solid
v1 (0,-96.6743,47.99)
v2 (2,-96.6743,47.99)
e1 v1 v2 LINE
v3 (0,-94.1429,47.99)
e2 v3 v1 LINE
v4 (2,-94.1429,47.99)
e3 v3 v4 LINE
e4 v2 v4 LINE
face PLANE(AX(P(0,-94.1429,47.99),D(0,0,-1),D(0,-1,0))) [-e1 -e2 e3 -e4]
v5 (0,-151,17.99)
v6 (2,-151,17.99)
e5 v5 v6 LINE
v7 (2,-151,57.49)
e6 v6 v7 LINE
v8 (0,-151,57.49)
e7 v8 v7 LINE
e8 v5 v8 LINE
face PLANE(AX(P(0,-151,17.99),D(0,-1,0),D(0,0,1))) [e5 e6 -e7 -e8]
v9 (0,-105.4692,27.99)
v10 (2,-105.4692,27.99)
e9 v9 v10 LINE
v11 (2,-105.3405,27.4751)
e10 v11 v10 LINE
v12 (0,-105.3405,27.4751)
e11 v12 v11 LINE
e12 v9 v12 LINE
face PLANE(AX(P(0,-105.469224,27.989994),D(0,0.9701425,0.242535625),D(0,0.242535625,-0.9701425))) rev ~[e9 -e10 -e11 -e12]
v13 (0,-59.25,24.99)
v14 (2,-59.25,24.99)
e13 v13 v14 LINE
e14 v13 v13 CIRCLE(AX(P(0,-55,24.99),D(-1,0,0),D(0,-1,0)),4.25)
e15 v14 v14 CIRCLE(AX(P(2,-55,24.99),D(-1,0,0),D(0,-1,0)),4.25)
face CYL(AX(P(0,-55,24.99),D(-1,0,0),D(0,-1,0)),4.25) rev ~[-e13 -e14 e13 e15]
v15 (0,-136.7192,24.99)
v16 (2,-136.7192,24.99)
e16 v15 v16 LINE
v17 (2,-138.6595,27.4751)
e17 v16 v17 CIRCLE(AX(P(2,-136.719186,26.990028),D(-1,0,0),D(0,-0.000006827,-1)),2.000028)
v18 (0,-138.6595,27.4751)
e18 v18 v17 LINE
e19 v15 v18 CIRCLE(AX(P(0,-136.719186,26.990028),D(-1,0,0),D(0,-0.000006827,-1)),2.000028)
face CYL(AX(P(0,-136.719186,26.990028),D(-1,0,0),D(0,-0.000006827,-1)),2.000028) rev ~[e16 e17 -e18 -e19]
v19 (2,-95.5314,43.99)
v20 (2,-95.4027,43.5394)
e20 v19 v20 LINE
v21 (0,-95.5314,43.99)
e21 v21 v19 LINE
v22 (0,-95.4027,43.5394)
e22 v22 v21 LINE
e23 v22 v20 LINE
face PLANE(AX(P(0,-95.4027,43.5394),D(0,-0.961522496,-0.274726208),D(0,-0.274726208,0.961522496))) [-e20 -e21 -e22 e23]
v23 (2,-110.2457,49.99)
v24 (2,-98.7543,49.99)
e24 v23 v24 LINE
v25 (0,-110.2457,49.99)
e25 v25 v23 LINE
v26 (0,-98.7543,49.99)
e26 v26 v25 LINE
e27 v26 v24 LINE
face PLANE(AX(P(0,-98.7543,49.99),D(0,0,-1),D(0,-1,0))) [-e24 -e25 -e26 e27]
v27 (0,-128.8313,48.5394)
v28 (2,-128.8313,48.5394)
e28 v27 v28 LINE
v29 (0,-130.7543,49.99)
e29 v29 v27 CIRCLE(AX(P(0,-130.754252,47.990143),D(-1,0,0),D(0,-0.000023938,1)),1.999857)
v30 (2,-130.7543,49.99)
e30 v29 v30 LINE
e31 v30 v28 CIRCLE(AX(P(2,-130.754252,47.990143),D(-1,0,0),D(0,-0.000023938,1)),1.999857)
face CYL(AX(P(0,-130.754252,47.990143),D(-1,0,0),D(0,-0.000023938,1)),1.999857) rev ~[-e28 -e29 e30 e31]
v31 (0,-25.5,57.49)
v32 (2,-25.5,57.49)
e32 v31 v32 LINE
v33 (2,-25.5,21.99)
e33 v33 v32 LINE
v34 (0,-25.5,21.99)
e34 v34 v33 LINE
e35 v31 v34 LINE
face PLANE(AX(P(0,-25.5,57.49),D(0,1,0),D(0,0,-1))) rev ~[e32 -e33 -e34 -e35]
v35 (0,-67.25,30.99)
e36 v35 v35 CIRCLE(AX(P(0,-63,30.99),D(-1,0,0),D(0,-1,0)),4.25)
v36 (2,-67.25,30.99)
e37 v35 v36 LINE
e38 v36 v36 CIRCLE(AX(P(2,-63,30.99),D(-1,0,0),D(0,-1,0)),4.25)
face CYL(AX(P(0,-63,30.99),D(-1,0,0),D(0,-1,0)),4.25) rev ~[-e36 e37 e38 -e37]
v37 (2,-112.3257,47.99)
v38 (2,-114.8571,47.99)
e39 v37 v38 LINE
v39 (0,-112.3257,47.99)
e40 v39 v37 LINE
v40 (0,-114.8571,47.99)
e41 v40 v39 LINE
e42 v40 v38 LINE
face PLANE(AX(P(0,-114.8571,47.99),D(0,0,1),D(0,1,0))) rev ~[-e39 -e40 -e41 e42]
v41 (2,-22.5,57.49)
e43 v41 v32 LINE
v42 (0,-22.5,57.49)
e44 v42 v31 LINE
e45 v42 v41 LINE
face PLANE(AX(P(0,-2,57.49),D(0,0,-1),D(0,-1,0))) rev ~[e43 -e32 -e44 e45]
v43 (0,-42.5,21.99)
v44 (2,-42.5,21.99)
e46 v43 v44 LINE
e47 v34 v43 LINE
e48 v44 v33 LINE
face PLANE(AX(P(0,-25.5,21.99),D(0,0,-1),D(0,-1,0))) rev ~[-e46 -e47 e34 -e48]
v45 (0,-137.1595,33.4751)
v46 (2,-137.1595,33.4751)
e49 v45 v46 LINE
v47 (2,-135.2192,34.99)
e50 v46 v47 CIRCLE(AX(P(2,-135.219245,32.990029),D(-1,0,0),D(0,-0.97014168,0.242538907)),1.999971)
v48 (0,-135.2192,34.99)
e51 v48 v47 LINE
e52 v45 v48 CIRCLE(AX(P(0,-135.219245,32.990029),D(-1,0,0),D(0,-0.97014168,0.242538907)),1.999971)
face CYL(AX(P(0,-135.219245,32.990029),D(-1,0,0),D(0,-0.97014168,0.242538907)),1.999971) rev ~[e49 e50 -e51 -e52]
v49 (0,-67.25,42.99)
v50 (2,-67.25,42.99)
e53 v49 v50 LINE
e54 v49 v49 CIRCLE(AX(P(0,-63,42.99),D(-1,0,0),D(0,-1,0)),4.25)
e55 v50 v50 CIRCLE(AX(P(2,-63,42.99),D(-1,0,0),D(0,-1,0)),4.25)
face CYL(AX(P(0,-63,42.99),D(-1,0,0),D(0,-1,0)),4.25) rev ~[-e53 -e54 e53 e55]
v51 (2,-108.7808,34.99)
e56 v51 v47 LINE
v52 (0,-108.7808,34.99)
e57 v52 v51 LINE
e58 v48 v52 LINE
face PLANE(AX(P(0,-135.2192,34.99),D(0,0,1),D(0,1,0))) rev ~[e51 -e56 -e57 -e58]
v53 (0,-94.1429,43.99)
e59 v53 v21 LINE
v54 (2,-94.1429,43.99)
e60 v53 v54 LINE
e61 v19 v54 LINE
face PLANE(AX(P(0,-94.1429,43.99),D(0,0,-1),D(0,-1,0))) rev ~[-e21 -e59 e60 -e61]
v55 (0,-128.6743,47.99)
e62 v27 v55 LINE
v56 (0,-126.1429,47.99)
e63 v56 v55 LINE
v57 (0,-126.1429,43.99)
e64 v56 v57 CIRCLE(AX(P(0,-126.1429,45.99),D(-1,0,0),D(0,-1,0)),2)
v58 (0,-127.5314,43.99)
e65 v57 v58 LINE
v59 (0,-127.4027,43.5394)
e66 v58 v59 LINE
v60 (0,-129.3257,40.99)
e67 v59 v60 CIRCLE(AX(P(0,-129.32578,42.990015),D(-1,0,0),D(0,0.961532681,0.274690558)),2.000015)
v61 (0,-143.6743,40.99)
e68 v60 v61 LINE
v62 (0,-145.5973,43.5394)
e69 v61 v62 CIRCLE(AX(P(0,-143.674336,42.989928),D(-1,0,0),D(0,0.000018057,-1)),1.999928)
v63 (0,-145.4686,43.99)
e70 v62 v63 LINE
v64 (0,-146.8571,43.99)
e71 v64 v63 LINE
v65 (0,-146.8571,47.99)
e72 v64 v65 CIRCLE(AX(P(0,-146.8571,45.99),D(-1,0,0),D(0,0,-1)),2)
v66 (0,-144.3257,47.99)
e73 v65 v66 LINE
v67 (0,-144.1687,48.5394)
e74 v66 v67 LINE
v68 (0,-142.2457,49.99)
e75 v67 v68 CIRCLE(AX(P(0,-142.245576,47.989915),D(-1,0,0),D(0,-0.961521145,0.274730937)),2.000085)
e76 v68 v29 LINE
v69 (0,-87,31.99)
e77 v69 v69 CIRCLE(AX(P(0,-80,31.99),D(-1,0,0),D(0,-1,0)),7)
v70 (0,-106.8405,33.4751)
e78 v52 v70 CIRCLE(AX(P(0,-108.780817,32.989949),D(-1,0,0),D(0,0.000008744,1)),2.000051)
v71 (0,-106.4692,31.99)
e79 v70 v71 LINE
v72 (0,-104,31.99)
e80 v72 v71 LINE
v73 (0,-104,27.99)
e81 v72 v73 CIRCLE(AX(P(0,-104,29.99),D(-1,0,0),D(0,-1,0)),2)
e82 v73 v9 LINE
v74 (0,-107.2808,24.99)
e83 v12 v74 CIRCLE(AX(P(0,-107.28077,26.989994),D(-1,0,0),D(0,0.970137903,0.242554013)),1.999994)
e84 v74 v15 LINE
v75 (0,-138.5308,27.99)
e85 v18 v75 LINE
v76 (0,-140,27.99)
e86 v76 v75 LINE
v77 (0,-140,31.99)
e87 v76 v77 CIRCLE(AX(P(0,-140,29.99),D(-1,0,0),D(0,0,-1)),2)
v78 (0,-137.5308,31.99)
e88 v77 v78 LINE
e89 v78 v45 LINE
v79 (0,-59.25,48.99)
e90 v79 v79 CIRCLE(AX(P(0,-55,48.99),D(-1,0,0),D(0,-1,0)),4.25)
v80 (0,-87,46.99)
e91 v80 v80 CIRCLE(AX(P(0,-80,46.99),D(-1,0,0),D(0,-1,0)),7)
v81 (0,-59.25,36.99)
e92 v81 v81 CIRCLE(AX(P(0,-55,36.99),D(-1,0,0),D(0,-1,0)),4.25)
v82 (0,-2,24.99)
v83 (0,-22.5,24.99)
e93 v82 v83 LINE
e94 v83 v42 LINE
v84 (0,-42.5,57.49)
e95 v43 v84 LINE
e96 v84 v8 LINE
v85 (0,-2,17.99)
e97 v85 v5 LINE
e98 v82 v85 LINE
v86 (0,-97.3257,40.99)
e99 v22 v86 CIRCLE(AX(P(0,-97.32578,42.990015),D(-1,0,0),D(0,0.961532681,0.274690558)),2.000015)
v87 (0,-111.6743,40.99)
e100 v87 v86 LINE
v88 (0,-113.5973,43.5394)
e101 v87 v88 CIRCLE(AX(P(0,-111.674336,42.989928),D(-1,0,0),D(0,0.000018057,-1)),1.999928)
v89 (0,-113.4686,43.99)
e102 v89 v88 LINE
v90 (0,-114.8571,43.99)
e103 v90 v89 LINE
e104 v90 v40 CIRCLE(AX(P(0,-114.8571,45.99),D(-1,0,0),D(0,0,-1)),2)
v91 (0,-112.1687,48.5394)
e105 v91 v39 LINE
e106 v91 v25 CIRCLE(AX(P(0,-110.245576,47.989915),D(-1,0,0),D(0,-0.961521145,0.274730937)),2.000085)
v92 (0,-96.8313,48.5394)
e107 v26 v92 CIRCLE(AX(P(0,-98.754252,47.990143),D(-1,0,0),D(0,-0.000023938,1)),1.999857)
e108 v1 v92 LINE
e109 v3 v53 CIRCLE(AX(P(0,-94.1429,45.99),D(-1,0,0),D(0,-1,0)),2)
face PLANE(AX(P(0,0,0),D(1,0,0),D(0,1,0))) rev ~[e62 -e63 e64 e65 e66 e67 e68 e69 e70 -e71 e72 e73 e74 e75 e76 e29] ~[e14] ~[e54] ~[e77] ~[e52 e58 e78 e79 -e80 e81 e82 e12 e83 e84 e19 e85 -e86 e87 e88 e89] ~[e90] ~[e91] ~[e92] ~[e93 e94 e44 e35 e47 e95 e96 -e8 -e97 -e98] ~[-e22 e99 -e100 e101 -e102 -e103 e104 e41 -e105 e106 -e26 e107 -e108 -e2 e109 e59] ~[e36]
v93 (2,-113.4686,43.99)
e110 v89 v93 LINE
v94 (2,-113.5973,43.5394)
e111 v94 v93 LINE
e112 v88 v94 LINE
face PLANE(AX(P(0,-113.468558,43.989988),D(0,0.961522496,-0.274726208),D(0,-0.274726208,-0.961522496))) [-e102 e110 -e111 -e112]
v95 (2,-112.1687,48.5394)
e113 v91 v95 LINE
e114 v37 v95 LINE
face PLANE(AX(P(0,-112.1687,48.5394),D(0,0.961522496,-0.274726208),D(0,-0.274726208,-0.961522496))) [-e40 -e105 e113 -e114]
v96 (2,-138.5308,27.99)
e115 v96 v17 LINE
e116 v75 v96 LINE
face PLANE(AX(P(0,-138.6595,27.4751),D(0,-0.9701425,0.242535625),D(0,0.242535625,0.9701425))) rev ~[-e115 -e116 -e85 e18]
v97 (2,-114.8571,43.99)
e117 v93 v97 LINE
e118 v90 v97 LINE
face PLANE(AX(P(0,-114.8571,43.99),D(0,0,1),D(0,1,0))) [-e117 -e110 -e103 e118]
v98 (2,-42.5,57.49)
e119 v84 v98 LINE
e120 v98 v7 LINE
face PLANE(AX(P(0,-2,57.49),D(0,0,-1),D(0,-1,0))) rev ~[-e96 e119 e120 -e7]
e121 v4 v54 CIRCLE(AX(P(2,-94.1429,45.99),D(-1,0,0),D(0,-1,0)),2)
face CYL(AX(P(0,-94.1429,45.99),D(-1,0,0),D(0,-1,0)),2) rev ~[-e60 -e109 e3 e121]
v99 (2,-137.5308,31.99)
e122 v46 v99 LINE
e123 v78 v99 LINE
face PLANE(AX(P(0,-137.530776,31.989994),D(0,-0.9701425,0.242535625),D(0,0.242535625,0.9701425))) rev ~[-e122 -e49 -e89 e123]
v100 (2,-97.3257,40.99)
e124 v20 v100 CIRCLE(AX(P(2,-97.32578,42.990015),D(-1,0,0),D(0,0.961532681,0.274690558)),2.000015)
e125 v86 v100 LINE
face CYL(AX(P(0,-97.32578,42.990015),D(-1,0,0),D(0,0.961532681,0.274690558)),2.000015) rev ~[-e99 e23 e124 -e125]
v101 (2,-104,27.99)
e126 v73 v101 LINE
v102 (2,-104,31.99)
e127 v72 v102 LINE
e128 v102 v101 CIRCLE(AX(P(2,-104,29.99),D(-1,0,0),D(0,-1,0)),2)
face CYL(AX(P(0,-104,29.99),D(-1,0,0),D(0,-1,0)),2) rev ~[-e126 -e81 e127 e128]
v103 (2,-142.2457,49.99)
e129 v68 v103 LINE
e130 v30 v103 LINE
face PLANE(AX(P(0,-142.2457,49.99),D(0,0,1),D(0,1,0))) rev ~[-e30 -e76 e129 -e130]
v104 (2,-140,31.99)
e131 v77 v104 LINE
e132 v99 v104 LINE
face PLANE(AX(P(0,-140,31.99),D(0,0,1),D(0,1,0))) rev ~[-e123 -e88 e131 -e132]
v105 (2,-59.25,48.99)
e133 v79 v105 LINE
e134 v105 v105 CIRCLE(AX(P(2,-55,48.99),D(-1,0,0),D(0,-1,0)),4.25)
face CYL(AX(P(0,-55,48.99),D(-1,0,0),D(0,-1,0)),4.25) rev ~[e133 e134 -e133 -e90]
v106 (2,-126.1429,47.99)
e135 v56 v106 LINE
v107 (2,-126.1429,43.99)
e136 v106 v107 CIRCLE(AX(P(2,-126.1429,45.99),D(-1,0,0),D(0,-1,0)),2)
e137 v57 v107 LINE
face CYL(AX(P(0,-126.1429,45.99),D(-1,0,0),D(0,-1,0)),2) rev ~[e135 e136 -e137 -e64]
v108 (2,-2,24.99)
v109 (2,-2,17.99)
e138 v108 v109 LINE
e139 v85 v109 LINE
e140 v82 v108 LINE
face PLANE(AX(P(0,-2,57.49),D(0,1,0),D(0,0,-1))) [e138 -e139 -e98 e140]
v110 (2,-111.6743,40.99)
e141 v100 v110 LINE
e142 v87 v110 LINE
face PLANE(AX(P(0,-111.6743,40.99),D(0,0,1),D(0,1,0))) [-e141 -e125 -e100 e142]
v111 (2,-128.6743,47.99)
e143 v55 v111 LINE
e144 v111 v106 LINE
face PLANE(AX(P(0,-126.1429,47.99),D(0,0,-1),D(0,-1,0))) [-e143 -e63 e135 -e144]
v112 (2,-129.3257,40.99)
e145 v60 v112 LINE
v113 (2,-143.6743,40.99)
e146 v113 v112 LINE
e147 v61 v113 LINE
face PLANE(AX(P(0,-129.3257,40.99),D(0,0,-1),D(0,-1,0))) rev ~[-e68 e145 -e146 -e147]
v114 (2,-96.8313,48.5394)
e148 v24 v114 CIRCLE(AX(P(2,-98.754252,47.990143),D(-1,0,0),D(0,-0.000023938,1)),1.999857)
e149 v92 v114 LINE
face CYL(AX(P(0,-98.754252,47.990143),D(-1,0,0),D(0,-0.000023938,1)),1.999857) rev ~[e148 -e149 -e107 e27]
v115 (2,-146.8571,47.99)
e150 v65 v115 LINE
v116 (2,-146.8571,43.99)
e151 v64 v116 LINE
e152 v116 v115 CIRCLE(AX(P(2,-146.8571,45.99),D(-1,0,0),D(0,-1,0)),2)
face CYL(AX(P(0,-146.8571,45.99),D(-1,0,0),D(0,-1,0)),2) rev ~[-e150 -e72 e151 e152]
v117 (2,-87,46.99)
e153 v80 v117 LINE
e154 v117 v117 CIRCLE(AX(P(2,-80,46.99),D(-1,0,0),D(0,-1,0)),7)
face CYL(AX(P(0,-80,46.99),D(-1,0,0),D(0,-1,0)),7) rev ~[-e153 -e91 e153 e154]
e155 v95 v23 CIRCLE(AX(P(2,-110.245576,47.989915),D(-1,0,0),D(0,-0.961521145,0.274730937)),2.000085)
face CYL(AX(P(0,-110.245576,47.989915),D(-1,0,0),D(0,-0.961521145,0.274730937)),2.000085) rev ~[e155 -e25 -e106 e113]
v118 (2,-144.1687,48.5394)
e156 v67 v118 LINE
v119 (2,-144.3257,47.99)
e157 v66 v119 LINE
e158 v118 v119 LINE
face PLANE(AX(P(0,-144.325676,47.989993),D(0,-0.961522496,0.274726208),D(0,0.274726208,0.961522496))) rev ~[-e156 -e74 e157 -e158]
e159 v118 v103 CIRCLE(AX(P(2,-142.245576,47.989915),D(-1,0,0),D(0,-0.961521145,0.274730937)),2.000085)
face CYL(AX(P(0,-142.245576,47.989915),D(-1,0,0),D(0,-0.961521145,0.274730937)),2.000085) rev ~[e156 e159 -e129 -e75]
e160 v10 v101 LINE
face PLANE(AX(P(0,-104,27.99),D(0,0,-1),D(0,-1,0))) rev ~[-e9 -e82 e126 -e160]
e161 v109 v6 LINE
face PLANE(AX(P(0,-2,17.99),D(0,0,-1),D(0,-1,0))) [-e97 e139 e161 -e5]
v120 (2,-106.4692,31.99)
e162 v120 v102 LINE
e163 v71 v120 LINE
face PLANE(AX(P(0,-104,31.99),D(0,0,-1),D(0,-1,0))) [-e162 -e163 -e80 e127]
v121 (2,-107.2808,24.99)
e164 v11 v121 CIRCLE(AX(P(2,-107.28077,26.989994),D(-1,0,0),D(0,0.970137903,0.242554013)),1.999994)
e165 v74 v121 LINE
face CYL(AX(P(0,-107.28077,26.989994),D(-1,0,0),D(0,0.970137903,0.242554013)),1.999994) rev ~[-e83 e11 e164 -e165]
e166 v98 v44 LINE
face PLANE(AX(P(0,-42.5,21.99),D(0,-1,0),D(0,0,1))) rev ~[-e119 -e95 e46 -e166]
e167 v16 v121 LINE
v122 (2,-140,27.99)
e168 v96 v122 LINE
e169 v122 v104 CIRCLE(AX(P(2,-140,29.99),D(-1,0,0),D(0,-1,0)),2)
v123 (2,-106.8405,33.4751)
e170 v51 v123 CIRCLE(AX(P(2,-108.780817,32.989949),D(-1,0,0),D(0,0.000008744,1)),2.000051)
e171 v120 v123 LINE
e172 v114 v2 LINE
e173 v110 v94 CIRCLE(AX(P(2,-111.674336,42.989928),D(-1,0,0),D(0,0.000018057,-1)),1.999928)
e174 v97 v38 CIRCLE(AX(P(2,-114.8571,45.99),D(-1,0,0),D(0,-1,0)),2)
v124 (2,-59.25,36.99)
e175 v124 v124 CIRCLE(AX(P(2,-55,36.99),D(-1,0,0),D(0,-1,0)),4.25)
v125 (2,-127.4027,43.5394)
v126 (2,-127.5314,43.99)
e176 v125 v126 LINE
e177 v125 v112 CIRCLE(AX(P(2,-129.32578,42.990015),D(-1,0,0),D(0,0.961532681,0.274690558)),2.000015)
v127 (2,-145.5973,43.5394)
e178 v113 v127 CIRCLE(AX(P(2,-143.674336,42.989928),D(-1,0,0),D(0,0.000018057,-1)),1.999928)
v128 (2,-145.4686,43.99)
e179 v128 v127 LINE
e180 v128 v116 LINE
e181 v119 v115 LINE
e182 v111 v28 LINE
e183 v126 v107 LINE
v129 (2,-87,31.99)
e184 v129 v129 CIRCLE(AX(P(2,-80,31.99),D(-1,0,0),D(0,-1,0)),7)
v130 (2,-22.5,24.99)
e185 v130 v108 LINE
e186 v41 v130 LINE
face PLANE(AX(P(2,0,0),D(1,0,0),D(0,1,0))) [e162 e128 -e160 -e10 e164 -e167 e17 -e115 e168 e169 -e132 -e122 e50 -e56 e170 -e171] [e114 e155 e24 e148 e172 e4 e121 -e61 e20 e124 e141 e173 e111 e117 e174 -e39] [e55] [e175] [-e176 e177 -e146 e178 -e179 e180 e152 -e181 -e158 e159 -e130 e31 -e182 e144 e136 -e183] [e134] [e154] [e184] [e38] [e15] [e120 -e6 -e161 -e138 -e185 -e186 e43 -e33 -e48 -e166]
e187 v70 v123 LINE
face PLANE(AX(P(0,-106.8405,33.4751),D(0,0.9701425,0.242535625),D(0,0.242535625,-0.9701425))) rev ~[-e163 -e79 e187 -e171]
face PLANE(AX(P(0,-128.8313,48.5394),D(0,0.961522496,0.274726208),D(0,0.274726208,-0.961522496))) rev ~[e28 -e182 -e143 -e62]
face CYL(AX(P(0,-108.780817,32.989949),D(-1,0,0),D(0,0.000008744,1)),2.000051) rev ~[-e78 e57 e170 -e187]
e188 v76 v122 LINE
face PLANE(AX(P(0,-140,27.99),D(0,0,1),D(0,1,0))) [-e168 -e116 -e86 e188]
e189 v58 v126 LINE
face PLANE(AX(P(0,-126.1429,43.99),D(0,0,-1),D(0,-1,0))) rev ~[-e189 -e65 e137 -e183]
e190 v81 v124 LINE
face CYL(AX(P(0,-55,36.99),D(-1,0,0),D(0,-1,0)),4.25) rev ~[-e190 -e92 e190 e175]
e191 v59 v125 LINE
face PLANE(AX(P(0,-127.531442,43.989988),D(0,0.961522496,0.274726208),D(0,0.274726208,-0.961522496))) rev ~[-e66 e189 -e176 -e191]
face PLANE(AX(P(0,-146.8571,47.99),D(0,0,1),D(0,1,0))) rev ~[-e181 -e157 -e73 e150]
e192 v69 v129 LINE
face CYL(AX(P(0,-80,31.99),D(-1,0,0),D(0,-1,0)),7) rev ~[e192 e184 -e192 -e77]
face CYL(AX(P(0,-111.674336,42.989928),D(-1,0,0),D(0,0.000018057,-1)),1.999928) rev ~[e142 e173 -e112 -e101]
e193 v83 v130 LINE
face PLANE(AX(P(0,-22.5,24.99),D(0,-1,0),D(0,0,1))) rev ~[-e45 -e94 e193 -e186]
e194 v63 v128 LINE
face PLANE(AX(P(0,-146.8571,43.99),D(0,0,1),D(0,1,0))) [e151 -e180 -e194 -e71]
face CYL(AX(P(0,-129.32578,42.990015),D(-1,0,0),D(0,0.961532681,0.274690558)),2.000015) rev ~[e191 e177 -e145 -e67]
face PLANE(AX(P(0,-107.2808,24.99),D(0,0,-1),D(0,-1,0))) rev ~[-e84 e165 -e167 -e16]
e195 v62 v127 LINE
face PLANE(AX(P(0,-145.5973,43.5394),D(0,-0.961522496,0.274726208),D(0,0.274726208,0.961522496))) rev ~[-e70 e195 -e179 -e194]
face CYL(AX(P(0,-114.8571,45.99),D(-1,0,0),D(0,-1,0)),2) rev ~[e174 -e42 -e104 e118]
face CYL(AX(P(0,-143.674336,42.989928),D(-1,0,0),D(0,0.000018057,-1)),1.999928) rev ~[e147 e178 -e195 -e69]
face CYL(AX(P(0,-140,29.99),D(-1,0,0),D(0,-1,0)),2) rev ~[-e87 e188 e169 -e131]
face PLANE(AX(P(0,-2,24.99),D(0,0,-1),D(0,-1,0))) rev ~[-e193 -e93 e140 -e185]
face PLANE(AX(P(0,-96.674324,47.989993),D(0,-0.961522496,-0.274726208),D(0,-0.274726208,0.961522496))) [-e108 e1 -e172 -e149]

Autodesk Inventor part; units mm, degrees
ref_plane "YZ Plane" through (0, 0, 0) normal (1, 0, 0) x (0, 1, 0)
ref_plane "XZ Plane" through (0, 0, 0) normal (0, 1, 0) x (-1, 0, 0)
ref_plane "XY Plane" through (0, 0, 0) normal (0, 0, 1) x (1, 0, 0)
sketch "Sketch2" plane through (0, 0, 0) normal (1, 0, 0) x (0, 1, 0)
  line L0 (-2.5, 55.99) -> (-2.5, 18.99)
  line L1 (-2.5, 18.99) -> (-150.5, 18.99)
  line L2 (-150.5, 18.99) -> (-150.5, 55.99)
  line L3 (-150.5, 55.99) -> (-2.5, 55.99)
  line L4 (87, 57.49) -> (-160.5, 57.49)
  line L5 (-151, 57.49) -> (-2, 57.49)
  line L6 (-2, 57.49) -> (-2, 17.99)
  line L7 (-2, 17.99) -> (-151, 17.99)
  line L8 (-151, 17.99) -> (-151, 57.49)
  dimension "d1" = 1.5
  dimension "d2" = 0.5
  dimension "d3" = 0.5
  dimension "d4" = 1
extrude "Extrusion1" add sketch "Sketch2" along normal blind 2 contours L0 L1 L2 L3 | L6 L7 L8 L4
sketch "Sketch3" plane through (0, 0, 0) normal (-1, 0, 0) x (0, -1, 0)
  arc A0 (111.6743, 41.99) -> (112.6358, 43.2647) centre (111.6743, 42.99) ccw
  line L0 (111.2072, 48.2647) -> (112.6358, 43.2647)
  arc A1 (111.2072, 48.2647) -> (110.2457, 48.99) centre (110.2457, 47.99) ccw
  line L1 (98.7543, 48.99) -> (110.2457, 48.99)
  arc A2 (98.7543, 48.99) -> (97.7928, 48.2647) centre (98.7543, 47.99) ccw
  line L2 (96.3642, 43.2647) -> (97.7928, 48.2647)
  arc A3 (96.3642, 43.2647) -> (97.3257, 41.99) centre (97.3257, 42.99) ccw
  line L3 (111.6743, 41.99) -> (97.3257, 41.99)
  circle A4 centre (114.8571, 45.99) radius 0.7915
  circle A5 centre (94.1429, 45.99) radius 0.7915
  line L4 (143.6743, 41.99) -> (129.3257, 41.99)
  arc A6 (128.3642, 43.2647) -> (129.3257, 41.99) centre (129.3257, 42.99) ccw
  line L5 (128.3642, 43.2647) -> (129.7928, 48.2647)
  arc A7 (130.7543, 48.99) -> (129.7928, 48.2647) centre (130.7543, 47.99) ccw
  line L6 (130.7543, 48.99) -> (142.2457, 48.99)
  arc A8 (143.2072, 48.2647) -> (142.2457, 48.99) centre (142.2457, 47.99) ccw
  line L7 (143.2072, 48.2647) -> (144.6358, 43.2647)
  arc A9 (143.6743, 41.99) -> (144.6358, 43.2647) centre (143.6743, 42.99) ccw
  circle A10 centre (146.8571, 45.99) radius 0.7915
  circle A11 centre (126.1429, 45.99) radius 0.7915
  line L8 (108.7808, 33.99) -> (135.2192, 33.99)
  arc A12 (108.7808, 33.99) -> (107.8106, 33.2325) centre (108.7808, 32.99) ccw
  line L9 (106.3106, 27.2325) -> (107.8106, 33.2325)
  arc A13 (106.3106, 27.2325) -> (107.2808, 25.99) centre (107.2808, 26.99) ccw
  line L10 (136.7192, 25.99) -> (107.2808, 25.99)
  arc A14 (136.7192, 25.99) -> (137.6894, 27.2325) centre (136.7192, 26.99) ccw
  line L11 (136.1894, 33.2325) -> (137.6894, 27.2325)
  arc A15 (136.1894, 33.2325) -> (135.2192, 33.99) centre (135.2192, 32.99) ccw
  circle A16 centre (140, 29.99) radius 0.7915
  circle A17 centre (104, 29.99) radius 0.7915
  arc A18 (95.4027, 43.5394) -> (97.3257, 40.99) centre (97.3257, 42.99) ccw
  line L12 (95.4027, 43.5394) -> (96.8313, 48.5394)
  arc A19 (98.7543, 49.99) -> (96.8313, 48.5394) centre (98.7543, 47.99) ccw
  line L13 (98.7543, 49.99) -> (110.2457, 49.99)
  arc A20 (112.1687, 48.5394) -> (110.2457, 49.99) centre (110.2457, 47.99) ccw
  line L14 (112.1687, 48.5394) -> (113.5973, 43.5394)
  arc A21 (111.6743, 40.99) -> (113.5973, 43.5394) centre (111.6743, 42.99) ccw
  line L15 (111.6743, 40.99) -> (97.3257, 40.99)
  circle A22 centre (94.1429, 45.99) radius 2
  line L16 (94.1429, 47.99) -> (96.6743, 47.99)
  line L17 (94.1429, 43.99) -> (95.5314, 43.99)
  circle A23 centre (114.8571, 45.99) radius 2
  line L18 (114.8571, 47.99) -> (112.3257, 47.99)
  line L19 (114.8571, 43.99) -> (113.4686, 43.99)
  circle A24 centre (126.1429, 45.99) radius 2
  circle A25 centre (146.8571, 45.99) radius 2
  circle A26 centre (140, 29.99) radius 2
  circle A27 centre (104, 29.99) radius 2
  line L20 (142.2457, 49.99) -> (130.7543, 49.99)
  arc A28 (130.7543, 49.99) -> (128.8313, 48.5394) centre (130.7543, 47.99) ccw
  line L21 (128.8313, 48.5394) -> (127.4027, 43.5394)
  arc A29 (127.4027, 43.5394) -> (129.3257, 40.99) centre (129.3257, 42.99) ccw
  line L22 (129.3257, 40.99) -> (143.6743, 40.99)
  arc A30 (143.6743, 40.99) -> (145.5973, 43.5394) centre (143.6743, 42.99) ccw
  line L23 (145.5973, 43.5394) -> (144.1687, 48.5394)
  arc A31 (144.1687, 48.5394) -> (142.2457, 49.99) centre (142.2457, 47.99) ccw
  line L24 (126.1429, 47.99) -> (128.6743, 47.99)
  line L25 (126.1429, 43.99) -> (127.5314, 43.99)
  line L26 (146.8571, 47.99) -> (144.3257, 47.99)
  line L27 (146.8571, 43.99) -> (145.4686, 43.99)
  line L28 (135.2192, 34.99) -> (108.7808, 34.99)
  arc A32 (108.7808, 34.99) -> (106.8405, 33.4751) centre (108.7808, 32.99) ccw
  line L29 (106.8405, 33.4751) -> (105.3405, 27.4751)
  arc A33 (105.3405, 27.4751) -> (107.2808, 24.99) centre (107.2808, 26.99) ccw
  line L30 (107.2808, 24.99) -> (136.7192, 24.99)
  arc A34 (136.7192, 24.99) -> (138.6595, 27.4751) centre (136.7192, 26.99) ccw
  line L31 (138.6595, 27.4751) -> (137.1595, 33.4751)
  arc A35 (137.1595, 33.4751) -> (135.2192, 34.99) centre (135.2192, 32.99) ccw
  line L32 (104, 31.99) -> (106.4692, 31.99)
  line L33 (104, 27.99) -> (105.4692, 27.99)
  line L34 (140, 31.99) -> (137.5308, 31.99)
  line L35 (140, 27.99) -> (138.5308, 27.99)
  dimension "d7" = 1
  dimension "d8" = 4
  dimension "d9" = 1
  dimension "d10" = 1
extrude "Extrusion2" cut sketch "Sketch3" against normal through all contours L3 A3 L2 A2 L1 A1 L0 A0 | A4 | A5 | L4 A6 L5 A7 L6 A8 L7 A9 | A10 | A11 | L8 A15 L11 A14 L10 A13 L9 A12 | A16 | A17 | L12 A22 A19 L13 A20 L14 A23 A21 L15 A18 | L17 A22 L12 | A22 L12 | L12 A22 | A22 L16 L12 | L14 A23 L19 | A23 L14 | L14 A23 | L14 L18 A23 | A24 L21 | L24 L21 A24 | A24 L21 L25 | L21 A28 L20 A31 L23 A25 A30 L22 A29 A24 | A24 L21 | L26 A25 L23 | L23 A25 L27 | L23 A25 | A25 L23 | A26 L31 | A26 L31 L34 | L35 L31 A26 | L31 A26 | A26 L31 A34 L30 A33 L29 A27 A32 L28 A35 | L29 A27 L32 | L33 A27 L29 | L29 A27 | A27 L29
sketch "Sketch4" plane through (0, 0, 0) normal (-1, 0, 0) x (0, -1, 0)
  circle A0 centre (55, 48.99) radius 3.5
  circle A1 centre (63, 42.99) radius 3.5
  circle A2 centre (55, 36.99) radius 3.5
  circle A3 centre (63, 30.99) radius 3.5
  circle A4 centre (55, 24.99) radius 3.5
  circle A5 centre (80, 46.99) radius 6
  circle A6 centre (80, 31.99) radius 6
  circle A7 centre (55, 48.99) radius 4.25
  circle A8 centre (63, 42.99) radius 4.25
  circle A9 centre (55, 36.99) radius 4.25
  circle A10 centre (55, 24.99) radius 4.25
  circle A11 centre (63, 30.99) radius 4.25
  circle A12 centre (80, 31.99) radius 7
  circle A13 centre (80, 46.99) radius 7
  dimension "d13" = 8.5
  dimension "d14" = 14
extrude "Extrusion3" cut sketch "Sketch4" against normal through all contours A0 | A1 | A2 | A3 | A4 | A5 | A6 | A7 | A8 | A9 | A10 | A11 | A12 | A13
sketch "Sketch5" plane through (0, 0, 0) normal (-1, 0, 0) x (0, -1, 0)
  line L0 (2, 57.49) -> (151, 57.49) projected
  line L1 (2, 17.99) -> (2, 57.49) projected
  line L2 (2, 24.99) -> (22.5, 24.99)
  line L3 (22.5, 24.99) -> (22.5, 57.49)
  line L4 (22.5, 57.49) -> (2, 57.49)
  line L5 (2, 57.49) -> (2, 24.99)
  line L6 (25.5, 21.99) -> (42.5, 21.99)
  line L7 (42.5, 21.99) -> (42.5, 57.49)
  line L8 (42.5, 57.49) -> (25.5, 57.49)
  line L9 (25.5, 57.49) -> (25.5, 21.99)
  line L10 (151, 17.99) -> (2, 17.99) projected
  dimension "d24" = 4
  dimension "d25" = 7
  dimension "d26" = 20.5
  dimension "d27" = 3
  dimension "d28" = 17
extrude "Extrusion4" cut sketch "Sketch5" against normal through all
equation "\"d9\" = d7"
equation "\"d10\" = d7"
properties part number "config - casing - module protector"
